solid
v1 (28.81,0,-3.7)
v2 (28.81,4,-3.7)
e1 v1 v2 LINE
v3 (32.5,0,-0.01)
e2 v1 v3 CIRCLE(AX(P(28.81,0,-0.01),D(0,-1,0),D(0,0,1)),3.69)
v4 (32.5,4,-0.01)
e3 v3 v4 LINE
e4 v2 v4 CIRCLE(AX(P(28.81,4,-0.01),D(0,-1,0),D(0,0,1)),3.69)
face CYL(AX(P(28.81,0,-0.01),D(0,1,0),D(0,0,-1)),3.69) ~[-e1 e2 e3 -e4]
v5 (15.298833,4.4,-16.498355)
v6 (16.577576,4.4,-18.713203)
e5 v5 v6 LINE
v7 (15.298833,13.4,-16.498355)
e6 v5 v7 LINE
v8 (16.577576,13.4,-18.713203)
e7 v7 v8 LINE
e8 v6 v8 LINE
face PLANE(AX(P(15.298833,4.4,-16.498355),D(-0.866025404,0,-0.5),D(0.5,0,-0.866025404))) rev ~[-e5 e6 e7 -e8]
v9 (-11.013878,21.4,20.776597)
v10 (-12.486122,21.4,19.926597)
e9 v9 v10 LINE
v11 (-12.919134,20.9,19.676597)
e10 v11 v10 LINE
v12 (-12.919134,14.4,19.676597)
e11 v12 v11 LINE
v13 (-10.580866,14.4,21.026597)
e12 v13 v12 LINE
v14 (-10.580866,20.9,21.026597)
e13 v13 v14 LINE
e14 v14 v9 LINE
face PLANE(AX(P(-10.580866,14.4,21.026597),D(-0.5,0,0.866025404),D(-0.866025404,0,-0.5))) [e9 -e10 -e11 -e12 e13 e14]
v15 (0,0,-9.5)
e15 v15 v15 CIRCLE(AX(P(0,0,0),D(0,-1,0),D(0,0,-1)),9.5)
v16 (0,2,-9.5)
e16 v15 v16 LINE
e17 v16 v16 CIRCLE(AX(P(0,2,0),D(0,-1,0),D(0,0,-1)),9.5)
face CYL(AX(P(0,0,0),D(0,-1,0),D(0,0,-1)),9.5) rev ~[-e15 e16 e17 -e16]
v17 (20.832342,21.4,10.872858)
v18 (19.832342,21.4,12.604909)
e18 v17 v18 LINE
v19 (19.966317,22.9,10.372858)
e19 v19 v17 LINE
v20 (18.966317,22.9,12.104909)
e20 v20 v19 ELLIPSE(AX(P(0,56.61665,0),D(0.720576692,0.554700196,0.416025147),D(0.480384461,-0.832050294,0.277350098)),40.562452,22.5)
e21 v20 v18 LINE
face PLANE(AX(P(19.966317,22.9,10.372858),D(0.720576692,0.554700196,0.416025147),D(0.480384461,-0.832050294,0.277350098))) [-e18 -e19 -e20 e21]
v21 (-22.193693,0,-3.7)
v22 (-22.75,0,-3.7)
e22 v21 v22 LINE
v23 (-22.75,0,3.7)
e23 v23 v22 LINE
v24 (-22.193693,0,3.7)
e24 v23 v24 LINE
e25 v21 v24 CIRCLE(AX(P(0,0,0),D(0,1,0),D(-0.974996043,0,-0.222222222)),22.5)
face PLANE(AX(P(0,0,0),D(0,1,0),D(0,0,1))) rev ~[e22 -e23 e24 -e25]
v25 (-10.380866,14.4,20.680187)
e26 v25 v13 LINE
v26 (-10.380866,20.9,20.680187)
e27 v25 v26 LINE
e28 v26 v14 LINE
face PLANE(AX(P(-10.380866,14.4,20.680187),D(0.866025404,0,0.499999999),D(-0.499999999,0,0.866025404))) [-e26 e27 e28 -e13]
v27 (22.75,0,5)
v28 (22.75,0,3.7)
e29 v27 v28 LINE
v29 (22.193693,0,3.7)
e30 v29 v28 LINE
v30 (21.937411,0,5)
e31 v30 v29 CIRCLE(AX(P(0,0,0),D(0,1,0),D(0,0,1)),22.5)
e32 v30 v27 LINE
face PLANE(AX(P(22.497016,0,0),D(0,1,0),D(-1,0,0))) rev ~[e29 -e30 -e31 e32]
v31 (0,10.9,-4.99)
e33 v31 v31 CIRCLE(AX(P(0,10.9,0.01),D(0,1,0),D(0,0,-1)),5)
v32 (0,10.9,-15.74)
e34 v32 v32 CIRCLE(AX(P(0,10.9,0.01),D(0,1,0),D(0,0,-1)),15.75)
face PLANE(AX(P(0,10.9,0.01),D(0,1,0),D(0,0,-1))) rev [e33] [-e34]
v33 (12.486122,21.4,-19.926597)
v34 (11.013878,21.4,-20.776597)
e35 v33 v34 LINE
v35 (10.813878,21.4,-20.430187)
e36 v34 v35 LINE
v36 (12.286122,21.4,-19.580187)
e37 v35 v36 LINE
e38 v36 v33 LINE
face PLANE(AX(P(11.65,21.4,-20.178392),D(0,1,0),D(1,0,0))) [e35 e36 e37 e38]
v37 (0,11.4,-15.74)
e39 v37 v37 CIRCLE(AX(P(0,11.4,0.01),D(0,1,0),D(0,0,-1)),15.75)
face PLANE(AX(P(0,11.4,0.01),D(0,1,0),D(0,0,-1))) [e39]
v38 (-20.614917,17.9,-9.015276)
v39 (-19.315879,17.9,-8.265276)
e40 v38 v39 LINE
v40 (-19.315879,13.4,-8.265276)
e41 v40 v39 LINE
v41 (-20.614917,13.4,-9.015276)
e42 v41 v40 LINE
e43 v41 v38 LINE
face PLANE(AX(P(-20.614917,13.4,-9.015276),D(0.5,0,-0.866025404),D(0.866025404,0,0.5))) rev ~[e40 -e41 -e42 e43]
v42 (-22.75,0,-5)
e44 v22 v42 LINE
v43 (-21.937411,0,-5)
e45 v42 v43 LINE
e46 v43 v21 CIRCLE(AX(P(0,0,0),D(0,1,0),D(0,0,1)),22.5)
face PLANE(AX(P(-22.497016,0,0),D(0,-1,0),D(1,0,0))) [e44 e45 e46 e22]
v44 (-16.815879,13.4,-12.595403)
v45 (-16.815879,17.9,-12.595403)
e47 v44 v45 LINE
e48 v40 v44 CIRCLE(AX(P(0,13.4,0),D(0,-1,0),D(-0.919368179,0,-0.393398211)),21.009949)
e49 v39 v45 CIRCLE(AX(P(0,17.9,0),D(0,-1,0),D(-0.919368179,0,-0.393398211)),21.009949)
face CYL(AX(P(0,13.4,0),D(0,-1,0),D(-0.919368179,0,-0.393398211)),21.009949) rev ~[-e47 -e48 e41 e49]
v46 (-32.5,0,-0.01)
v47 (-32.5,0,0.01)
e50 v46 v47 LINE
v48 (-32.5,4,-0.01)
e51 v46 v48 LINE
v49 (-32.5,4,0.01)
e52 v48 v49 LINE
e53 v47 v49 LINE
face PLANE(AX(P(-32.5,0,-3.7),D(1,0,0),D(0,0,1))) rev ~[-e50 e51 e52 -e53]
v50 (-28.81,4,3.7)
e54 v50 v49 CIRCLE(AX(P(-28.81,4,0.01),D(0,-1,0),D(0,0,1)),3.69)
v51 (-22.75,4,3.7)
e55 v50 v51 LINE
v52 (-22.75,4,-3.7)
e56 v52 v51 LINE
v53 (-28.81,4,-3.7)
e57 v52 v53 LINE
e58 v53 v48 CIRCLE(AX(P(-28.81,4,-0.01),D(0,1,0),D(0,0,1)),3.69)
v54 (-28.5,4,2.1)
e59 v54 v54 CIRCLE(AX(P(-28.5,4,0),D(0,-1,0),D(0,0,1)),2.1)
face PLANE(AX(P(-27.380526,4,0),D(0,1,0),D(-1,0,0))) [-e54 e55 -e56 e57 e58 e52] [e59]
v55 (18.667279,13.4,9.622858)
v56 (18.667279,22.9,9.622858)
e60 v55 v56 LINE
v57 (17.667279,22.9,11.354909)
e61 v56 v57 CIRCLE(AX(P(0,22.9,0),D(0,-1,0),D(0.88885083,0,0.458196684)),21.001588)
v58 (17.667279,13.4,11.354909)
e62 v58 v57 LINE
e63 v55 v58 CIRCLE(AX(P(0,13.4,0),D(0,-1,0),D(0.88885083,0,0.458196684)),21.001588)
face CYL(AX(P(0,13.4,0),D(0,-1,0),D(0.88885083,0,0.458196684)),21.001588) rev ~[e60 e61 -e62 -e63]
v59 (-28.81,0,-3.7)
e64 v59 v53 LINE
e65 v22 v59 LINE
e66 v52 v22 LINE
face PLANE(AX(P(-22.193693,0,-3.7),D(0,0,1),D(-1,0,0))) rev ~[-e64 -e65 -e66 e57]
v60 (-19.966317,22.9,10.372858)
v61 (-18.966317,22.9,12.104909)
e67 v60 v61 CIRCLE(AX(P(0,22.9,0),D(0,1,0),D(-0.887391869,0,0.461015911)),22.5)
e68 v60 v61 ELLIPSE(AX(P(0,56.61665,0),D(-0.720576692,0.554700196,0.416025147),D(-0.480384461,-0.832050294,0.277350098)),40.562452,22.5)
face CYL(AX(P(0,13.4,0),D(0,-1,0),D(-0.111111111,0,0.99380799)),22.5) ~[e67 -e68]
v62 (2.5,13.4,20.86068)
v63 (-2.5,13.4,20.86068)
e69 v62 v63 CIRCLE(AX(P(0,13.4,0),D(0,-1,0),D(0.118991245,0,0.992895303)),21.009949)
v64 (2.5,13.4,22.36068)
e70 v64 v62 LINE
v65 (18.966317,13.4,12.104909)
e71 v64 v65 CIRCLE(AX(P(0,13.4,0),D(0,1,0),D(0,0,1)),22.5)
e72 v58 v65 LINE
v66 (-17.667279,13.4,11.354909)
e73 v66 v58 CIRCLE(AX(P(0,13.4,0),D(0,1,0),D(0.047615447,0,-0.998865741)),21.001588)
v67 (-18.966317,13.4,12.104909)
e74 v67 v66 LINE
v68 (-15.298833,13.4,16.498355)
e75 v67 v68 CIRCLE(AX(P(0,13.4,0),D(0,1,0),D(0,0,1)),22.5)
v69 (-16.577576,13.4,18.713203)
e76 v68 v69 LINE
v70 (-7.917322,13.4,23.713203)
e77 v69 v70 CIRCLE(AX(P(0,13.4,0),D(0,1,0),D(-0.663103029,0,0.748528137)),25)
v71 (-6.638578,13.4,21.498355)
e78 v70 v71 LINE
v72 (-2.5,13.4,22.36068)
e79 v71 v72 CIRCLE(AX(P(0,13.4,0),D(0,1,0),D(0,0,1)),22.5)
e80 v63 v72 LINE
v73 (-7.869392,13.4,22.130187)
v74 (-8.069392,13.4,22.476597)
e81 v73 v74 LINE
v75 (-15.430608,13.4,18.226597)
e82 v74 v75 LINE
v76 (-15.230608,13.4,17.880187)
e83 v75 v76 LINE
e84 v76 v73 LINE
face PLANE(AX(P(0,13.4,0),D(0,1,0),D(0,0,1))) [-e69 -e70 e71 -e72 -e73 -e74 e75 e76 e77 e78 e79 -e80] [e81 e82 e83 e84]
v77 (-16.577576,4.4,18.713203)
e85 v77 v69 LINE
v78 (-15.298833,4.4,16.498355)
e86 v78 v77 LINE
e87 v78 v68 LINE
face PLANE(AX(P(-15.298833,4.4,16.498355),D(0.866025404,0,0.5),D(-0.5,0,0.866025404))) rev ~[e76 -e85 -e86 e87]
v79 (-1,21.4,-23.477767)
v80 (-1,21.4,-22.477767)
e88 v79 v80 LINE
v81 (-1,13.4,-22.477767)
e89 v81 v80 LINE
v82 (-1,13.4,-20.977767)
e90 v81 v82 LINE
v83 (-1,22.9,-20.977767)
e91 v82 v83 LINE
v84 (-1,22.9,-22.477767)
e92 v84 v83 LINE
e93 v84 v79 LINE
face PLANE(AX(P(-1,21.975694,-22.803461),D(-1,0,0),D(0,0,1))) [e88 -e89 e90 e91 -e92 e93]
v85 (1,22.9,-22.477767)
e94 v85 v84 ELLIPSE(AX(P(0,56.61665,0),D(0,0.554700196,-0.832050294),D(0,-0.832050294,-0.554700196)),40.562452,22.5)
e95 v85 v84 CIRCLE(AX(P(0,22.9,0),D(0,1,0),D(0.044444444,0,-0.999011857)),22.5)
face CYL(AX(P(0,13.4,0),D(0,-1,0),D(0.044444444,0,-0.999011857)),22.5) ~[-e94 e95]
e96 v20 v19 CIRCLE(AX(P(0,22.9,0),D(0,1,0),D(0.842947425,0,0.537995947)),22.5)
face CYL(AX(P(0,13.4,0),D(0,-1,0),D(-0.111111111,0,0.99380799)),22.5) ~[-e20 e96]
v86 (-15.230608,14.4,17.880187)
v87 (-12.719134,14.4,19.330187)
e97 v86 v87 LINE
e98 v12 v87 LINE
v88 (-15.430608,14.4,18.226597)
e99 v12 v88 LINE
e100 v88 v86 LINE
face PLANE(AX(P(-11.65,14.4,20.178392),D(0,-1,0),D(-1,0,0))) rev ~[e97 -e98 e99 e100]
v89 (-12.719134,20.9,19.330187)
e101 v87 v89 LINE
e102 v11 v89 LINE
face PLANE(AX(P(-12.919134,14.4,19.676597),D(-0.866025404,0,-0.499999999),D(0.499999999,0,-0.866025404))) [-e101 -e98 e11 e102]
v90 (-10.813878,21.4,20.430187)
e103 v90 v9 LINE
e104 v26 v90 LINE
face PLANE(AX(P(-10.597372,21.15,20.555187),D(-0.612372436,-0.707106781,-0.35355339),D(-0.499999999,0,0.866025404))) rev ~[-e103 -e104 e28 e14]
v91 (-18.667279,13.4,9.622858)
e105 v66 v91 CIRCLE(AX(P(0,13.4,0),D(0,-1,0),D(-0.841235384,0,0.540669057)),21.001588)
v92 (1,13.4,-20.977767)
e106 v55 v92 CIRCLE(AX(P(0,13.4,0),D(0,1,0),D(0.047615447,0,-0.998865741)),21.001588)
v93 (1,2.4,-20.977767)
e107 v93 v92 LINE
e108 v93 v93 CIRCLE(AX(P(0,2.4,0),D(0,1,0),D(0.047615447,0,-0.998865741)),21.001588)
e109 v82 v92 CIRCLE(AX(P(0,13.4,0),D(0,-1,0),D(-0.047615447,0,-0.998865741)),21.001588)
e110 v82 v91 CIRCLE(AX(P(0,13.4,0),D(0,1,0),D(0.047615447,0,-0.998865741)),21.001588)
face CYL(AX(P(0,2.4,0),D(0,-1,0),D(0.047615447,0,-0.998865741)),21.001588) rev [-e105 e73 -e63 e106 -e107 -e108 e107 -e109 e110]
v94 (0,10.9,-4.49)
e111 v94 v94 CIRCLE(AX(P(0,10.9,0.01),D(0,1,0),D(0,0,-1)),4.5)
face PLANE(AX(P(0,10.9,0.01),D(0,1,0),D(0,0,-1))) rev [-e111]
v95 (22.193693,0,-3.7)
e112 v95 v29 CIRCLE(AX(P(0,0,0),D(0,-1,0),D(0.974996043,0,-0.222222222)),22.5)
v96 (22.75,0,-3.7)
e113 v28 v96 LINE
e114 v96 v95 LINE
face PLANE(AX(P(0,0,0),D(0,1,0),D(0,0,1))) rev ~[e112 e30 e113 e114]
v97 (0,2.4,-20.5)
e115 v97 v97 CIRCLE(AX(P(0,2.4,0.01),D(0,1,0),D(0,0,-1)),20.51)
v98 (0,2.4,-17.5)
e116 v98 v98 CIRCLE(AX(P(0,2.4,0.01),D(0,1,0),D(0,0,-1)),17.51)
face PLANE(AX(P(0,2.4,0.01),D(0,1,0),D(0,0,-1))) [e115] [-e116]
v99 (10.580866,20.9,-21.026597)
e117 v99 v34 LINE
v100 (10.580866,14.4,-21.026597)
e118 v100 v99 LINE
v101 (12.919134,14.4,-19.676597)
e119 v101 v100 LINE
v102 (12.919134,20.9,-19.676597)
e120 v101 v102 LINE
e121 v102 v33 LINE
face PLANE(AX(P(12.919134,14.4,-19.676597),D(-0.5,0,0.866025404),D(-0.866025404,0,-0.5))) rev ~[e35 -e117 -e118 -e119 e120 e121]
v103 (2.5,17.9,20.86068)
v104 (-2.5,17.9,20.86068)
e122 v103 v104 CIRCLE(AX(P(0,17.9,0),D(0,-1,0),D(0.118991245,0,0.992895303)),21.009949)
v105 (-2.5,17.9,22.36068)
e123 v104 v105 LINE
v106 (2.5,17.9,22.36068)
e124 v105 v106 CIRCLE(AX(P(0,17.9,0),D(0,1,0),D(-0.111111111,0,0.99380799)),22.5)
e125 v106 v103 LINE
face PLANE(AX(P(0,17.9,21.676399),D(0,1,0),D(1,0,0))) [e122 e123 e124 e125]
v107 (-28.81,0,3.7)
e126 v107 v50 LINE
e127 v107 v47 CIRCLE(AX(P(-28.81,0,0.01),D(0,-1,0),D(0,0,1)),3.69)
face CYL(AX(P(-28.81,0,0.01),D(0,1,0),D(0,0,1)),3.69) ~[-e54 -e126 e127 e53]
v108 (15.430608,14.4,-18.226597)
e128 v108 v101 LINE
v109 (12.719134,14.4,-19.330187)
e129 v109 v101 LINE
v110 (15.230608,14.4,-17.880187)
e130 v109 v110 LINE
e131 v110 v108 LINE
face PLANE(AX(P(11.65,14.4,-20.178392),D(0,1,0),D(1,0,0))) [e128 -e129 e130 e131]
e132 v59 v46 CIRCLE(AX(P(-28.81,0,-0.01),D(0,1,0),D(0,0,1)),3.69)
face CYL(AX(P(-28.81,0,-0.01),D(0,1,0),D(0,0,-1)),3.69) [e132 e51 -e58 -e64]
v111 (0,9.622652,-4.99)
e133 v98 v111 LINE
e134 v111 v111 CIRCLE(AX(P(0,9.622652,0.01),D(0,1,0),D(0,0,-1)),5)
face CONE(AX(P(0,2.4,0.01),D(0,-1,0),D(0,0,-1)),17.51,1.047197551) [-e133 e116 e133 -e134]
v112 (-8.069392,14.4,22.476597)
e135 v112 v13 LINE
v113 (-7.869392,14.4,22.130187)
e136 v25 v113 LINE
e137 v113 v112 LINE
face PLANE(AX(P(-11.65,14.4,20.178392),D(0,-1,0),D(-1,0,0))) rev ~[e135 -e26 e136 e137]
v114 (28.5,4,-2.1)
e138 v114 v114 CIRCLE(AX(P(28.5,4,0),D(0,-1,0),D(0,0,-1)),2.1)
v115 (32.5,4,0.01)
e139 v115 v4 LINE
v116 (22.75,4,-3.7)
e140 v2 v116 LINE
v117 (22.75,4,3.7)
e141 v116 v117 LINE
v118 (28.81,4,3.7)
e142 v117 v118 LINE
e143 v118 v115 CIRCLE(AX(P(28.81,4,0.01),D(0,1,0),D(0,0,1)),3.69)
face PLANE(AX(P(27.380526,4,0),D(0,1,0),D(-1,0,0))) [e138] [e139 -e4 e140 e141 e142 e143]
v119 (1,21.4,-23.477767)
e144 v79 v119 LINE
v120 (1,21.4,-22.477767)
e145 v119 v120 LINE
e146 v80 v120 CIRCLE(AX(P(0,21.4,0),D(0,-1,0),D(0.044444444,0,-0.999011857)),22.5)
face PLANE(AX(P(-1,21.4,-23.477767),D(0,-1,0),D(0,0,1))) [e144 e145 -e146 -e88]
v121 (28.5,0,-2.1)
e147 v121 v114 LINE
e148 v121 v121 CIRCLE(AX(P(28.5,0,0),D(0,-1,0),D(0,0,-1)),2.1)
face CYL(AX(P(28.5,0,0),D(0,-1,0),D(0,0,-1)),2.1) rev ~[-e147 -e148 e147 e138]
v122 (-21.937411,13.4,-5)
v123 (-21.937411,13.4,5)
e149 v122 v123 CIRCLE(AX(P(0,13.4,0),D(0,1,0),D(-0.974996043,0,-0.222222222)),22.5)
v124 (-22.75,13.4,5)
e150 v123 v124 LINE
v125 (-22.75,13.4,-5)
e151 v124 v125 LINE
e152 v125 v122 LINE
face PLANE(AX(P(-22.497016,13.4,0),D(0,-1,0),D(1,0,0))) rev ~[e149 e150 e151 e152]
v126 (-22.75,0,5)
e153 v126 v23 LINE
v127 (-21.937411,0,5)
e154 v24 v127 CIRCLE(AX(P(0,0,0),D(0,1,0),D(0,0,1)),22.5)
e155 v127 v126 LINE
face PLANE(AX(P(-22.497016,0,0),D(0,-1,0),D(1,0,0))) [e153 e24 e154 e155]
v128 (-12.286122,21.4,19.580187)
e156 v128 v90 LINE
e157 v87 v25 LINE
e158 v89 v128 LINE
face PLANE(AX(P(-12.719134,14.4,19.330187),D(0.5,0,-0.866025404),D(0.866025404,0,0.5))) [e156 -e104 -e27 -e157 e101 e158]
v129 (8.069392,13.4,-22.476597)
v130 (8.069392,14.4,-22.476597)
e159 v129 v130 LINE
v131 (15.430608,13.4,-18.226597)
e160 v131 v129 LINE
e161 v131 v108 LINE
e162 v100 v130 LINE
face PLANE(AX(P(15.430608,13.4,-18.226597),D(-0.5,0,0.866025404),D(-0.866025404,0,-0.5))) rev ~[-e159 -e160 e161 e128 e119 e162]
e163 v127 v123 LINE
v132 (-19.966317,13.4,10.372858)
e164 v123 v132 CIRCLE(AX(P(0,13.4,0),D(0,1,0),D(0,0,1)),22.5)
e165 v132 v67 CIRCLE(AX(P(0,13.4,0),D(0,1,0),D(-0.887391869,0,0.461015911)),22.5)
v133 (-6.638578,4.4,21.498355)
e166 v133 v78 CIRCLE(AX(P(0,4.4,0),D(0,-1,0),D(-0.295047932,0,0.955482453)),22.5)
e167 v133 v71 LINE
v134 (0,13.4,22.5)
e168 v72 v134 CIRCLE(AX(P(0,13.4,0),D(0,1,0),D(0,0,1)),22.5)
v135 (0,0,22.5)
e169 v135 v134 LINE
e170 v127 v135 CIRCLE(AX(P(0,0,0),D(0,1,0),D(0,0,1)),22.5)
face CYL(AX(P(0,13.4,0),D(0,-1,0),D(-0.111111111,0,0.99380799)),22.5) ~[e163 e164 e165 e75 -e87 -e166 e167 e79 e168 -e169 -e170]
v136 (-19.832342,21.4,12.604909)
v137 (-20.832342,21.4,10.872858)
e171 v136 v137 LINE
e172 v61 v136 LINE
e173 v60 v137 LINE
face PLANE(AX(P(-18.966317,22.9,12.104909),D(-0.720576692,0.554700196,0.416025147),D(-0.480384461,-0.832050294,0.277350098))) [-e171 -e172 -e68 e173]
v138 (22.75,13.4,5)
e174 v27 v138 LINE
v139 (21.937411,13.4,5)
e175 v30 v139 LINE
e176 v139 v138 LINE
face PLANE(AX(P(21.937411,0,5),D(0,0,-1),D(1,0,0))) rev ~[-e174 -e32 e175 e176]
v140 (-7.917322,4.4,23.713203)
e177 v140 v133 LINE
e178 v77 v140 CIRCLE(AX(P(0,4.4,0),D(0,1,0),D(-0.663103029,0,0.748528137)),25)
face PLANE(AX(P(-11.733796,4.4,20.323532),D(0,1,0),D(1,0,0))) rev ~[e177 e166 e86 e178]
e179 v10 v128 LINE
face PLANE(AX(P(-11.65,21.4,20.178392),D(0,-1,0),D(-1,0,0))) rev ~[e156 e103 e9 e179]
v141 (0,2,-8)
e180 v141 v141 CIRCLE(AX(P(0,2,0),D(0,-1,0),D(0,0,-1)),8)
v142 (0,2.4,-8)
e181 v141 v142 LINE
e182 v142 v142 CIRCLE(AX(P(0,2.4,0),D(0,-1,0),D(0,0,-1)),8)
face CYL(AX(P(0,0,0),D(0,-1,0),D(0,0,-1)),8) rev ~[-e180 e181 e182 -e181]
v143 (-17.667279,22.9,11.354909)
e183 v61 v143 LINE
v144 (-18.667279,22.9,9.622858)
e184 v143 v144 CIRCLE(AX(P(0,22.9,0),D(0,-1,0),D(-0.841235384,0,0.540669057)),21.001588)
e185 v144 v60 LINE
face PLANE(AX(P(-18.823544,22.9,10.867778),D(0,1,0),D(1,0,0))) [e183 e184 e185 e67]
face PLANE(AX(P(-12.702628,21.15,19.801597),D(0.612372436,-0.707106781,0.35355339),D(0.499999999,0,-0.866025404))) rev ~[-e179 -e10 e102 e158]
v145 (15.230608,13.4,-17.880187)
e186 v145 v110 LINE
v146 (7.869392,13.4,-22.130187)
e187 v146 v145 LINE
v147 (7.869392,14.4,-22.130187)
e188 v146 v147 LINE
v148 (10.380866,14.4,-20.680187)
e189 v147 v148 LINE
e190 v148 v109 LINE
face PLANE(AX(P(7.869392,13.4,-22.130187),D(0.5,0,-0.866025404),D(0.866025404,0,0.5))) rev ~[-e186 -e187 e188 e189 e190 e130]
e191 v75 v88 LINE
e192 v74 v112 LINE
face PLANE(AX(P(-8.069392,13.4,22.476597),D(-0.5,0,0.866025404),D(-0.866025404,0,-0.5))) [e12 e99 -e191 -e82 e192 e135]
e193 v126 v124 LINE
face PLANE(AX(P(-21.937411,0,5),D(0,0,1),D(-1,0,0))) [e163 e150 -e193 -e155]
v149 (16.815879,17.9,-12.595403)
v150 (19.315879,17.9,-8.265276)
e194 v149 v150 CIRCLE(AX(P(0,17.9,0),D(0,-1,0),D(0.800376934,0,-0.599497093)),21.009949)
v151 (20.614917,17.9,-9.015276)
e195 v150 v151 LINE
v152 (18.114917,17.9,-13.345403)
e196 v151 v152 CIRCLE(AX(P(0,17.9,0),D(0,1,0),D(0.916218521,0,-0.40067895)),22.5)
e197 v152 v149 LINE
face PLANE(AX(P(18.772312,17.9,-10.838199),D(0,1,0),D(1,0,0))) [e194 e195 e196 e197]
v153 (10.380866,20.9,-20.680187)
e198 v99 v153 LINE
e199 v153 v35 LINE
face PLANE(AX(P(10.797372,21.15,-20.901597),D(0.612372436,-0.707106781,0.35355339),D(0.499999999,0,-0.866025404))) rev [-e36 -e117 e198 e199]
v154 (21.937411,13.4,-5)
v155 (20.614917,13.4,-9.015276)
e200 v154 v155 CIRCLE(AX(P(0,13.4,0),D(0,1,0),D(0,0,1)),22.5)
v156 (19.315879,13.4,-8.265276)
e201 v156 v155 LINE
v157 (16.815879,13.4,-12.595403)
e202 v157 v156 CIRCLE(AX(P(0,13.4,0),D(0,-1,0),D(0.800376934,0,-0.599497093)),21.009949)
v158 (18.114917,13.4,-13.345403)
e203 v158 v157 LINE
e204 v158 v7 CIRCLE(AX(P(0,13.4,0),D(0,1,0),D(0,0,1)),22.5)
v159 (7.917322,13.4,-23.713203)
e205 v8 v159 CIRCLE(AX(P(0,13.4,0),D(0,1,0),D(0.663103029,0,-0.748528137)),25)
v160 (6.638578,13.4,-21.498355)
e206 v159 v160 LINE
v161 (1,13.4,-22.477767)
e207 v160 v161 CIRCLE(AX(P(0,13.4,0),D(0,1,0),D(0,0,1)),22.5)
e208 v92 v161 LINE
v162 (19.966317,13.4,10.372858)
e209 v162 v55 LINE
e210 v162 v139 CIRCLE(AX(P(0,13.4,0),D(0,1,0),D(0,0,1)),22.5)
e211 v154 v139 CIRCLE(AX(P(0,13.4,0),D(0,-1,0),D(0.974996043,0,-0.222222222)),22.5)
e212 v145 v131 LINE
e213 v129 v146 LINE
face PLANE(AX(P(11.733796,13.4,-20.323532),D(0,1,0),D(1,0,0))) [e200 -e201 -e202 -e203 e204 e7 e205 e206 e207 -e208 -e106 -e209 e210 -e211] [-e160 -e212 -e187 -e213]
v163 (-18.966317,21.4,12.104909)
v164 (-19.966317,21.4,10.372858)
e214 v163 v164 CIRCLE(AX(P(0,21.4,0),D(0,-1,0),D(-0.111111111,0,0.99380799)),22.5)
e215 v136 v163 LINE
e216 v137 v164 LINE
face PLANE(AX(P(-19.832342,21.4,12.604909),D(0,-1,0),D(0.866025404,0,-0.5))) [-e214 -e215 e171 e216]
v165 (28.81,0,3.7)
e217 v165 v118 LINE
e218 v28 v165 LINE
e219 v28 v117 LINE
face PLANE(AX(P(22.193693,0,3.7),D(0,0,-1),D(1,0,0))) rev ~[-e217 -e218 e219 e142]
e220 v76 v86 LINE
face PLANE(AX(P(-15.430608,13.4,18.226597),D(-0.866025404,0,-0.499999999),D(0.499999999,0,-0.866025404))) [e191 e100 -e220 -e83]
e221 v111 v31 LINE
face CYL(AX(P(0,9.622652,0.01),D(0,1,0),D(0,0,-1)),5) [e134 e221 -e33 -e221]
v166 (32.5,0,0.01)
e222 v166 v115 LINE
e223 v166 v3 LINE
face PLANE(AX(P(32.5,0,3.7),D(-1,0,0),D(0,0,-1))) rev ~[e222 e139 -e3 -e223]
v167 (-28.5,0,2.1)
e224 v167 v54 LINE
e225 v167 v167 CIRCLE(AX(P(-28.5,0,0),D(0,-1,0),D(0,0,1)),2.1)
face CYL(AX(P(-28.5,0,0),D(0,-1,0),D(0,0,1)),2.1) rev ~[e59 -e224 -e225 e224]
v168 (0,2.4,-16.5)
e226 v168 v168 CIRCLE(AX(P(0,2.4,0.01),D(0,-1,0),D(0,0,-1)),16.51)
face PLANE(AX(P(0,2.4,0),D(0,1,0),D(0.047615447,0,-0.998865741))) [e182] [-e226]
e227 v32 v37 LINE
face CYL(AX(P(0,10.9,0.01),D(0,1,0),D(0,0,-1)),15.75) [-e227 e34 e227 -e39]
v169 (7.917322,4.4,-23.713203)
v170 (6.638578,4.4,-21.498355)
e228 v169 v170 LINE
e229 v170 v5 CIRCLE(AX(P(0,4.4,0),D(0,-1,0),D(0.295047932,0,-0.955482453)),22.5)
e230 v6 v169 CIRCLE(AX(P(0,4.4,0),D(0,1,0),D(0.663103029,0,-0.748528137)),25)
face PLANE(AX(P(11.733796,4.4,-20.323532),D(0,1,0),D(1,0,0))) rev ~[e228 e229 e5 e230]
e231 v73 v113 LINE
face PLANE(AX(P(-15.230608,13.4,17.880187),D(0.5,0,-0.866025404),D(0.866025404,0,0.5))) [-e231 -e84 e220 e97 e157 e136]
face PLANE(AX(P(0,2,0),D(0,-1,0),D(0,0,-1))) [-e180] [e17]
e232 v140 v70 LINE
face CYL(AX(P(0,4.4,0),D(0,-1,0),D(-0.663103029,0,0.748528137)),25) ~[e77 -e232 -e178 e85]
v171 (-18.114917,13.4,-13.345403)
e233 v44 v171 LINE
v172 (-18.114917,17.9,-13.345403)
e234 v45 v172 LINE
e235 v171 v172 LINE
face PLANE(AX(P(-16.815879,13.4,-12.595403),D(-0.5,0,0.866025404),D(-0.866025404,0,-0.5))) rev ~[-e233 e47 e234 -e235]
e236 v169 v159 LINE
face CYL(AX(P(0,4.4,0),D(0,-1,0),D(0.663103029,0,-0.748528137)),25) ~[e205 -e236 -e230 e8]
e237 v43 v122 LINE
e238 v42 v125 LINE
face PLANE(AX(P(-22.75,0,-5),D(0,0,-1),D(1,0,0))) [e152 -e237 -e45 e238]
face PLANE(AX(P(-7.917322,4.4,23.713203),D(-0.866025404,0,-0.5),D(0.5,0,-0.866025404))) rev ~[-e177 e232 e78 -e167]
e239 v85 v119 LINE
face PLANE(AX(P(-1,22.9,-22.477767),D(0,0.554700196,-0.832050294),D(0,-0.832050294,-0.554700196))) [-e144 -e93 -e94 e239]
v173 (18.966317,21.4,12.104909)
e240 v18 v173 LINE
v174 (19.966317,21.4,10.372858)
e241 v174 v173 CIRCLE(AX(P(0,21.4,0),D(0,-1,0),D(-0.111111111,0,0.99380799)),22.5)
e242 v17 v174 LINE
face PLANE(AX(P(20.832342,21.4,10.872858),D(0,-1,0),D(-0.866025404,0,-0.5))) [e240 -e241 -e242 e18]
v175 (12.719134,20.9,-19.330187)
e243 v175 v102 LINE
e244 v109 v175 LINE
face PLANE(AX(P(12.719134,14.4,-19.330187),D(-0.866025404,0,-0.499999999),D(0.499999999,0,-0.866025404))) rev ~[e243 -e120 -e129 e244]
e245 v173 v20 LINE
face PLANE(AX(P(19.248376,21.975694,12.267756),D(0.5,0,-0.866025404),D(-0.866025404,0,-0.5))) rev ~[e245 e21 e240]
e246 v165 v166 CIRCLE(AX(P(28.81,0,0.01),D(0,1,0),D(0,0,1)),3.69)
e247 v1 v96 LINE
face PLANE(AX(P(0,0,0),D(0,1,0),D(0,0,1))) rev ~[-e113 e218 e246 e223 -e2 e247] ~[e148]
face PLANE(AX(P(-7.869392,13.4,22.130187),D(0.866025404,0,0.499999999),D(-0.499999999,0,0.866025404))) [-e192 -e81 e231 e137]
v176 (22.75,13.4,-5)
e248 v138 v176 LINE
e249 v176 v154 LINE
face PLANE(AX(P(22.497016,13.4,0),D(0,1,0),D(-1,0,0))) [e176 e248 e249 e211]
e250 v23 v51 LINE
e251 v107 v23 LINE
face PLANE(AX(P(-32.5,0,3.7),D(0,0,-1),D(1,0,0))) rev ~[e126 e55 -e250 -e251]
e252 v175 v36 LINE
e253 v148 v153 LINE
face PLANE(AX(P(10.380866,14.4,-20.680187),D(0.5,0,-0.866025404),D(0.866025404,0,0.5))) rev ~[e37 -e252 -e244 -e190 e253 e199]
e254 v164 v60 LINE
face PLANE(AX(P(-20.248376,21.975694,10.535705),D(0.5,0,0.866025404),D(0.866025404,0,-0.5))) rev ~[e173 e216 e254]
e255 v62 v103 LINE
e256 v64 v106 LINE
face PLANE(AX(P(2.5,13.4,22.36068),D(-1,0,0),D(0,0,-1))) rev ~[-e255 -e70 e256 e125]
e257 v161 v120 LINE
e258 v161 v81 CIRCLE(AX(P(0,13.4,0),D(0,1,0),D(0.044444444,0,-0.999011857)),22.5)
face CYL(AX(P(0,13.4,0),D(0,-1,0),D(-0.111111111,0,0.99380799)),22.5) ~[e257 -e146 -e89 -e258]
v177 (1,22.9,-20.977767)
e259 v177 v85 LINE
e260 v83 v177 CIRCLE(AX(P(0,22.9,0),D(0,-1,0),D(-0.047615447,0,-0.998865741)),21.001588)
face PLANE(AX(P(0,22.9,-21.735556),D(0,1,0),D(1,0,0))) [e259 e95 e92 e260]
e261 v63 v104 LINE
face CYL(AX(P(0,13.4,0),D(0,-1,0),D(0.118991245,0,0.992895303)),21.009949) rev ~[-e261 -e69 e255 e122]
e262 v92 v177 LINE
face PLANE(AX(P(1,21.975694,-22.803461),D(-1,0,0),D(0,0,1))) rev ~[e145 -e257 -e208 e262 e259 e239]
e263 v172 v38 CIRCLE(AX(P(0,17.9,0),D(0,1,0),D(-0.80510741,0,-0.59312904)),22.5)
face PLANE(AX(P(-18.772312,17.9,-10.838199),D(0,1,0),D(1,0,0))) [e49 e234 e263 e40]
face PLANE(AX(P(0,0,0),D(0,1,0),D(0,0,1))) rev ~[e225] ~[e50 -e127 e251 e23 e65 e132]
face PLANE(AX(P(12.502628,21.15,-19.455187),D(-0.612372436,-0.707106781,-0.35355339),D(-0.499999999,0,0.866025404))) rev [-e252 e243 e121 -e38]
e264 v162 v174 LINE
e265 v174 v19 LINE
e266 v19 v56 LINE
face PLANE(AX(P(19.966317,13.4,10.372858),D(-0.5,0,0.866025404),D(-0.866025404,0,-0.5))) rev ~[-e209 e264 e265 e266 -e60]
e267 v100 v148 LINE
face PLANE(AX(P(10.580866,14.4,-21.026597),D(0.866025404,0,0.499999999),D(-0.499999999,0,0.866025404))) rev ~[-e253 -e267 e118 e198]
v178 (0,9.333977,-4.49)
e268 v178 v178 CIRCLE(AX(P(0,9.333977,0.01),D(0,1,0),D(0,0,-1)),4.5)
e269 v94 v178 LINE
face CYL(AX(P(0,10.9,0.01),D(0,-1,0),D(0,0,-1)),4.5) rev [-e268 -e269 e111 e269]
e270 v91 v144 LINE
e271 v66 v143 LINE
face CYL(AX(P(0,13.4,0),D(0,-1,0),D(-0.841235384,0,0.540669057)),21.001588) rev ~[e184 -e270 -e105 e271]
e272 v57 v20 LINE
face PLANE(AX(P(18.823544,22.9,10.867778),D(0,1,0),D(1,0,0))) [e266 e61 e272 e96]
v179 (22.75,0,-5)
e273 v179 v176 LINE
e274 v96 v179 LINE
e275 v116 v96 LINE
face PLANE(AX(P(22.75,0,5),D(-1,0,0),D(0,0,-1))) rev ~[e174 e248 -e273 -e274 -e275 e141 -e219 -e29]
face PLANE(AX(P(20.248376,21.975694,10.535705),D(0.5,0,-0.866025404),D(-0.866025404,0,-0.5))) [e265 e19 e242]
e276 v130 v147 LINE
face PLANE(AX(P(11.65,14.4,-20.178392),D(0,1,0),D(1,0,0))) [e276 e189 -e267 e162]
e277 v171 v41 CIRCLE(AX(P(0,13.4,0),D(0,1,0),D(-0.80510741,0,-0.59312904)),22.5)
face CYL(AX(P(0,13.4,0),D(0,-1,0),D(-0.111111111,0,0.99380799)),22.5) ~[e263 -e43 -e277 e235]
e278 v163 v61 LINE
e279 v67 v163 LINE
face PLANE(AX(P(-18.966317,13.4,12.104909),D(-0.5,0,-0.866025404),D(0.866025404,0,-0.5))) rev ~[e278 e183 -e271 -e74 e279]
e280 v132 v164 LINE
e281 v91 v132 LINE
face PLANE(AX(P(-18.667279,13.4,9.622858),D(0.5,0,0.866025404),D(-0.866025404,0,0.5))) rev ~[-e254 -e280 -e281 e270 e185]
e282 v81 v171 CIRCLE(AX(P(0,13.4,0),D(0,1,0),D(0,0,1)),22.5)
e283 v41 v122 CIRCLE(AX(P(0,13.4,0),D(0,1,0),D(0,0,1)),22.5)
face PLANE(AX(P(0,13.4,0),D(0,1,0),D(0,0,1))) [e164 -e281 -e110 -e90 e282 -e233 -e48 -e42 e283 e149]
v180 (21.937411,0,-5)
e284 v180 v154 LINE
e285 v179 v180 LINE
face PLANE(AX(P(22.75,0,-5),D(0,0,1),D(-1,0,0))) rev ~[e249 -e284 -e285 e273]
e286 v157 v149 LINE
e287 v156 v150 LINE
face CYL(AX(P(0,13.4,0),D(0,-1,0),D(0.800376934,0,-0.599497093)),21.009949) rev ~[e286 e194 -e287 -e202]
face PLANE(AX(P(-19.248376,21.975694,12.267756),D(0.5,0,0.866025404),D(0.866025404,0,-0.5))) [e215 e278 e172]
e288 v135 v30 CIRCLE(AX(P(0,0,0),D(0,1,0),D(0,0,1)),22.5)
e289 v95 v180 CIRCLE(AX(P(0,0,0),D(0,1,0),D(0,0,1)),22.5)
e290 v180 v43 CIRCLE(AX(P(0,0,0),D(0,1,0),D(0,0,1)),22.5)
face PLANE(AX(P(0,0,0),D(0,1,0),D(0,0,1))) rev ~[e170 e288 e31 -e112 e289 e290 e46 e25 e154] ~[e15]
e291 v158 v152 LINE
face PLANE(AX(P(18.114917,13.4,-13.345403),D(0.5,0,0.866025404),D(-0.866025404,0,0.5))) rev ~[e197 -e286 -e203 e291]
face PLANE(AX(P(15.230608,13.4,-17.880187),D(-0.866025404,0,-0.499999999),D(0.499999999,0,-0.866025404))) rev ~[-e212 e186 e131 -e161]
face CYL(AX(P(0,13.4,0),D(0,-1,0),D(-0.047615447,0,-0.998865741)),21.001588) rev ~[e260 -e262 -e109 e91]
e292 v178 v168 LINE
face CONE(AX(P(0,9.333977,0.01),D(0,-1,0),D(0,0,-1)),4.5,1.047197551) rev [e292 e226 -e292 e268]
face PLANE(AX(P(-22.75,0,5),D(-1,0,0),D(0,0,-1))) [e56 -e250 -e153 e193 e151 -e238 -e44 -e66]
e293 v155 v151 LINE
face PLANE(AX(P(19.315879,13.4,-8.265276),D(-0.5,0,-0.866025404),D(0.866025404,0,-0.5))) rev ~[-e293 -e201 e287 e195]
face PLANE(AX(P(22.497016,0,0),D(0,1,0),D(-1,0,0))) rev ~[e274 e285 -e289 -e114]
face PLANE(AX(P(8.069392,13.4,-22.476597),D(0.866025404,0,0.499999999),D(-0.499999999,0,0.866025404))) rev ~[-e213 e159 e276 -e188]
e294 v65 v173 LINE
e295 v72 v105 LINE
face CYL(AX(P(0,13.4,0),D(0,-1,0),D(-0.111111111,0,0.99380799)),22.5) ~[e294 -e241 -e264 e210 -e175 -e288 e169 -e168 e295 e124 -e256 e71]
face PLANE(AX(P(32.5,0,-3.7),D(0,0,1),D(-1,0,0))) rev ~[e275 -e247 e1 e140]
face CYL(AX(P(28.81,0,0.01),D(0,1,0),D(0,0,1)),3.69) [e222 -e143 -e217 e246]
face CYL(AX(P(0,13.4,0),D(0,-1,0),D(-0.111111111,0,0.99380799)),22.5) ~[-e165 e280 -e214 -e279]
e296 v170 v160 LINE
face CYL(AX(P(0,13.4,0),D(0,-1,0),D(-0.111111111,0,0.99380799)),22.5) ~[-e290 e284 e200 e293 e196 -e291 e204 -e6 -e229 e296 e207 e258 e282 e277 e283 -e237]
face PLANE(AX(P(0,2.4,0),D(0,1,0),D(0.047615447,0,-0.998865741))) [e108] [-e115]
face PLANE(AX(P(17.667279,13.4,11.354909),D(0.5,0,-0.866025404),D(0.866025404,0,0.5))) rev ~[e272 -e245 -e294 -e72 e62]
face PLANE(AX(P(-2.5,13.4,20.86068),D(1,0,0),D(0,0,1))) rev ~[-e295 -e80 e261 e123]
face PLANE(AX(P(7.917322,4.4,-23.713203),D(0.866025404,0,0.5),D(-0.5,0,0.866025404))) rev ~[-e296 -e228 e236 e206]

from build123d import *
from build123d.topology import SkipClean

# Parameters (mm, degrees)
SKETCH_1_R               = 22.5
EXTRUDE_1_DEPTH          = 13.4
SKETCH_2_R               = 2.1
EXTRUDE_2_DEPTH          = 4
FILLET_1_R               = 3.69
EXTRUDE_3_DEPTH          = 9.5
EXTRUDE_5_DEPTH          = 2
EXTRUDE_4_DEPTH          = 4.5
CUT_EXTRUDE_START        = -11
SKETCH_5_R               = 21.001588026
CUT_EXTRUDE_1_DEPTH      = 11
SKETCH_6_R               = 8
CUT_EXTRUDE_2_DEPTH      = 3
PATTERN_CIRCULAR_1_COUNT = 3
EXTRUDE_START            = -9
EXTRUDE_6_DEPTH          = 9
EXTRUDE_7_DEPTH          = 1
EXTRUDE_8_DEPTH          = 7
CHAMFER_1_SIZE           = 0.5
SKETCH_13_R              = 9.5
CUT_EXTRUDE_4_DEPTH      = 2
EXTRUDE_10_DEPTH         = 13.4


with BuildPart() as part:
    # Эскиз1 → Бобышка-Вытянуть1 (new body)
    with BuildSketch(Plane(origin=(0, 0, 0), x_dir=(1, 0, 0), z_dir=(0, 1, 0))):
        with Locations(Location((0, 0, 0), (0, 0, 270))):
            Circle(SKETCH_1_R)
    extrude(amount=EXTRUDE_1_DEPTH)

    # Эскиз2 → Бобышка-Вытянуть2 (add)
    # profile 1 of 2: a face of its own
    with BuildSketch(Plane.XZ):
        with BuildLine():
            Line((22.193692798, 3.7), (32.5, 3.7))
            Line((32.5, 3.7), (32.5, -3.7))
            Line((32.5, -3.7), (22.193692798, -3.7))
            ThreePointArc((22.193692798, -3.7), (22.5, 0), (22.193692798, 3.7))
        make_face()
        with Locations(Location((28.5, 0, 0), (0, 0, 270))):
            Circle(SKETCH_2_R, mode=Mode.SUBTRACT)
    # profile 2 of 2: a face of its own
    with BuildSketch(Plane.XZ):
        with BuildLine():
            Line((-22.193692798, -3.7), (-32.5, -3.7))
            Line((-32.5, -3.7), (-32.5, 3.7))
            Line((-32.5, 3.7), (-22.193692798, 3.7))
            ThreePointArc((-22.193692798, 3.7), (-22.5, 0), (-22.193692798, -3.7))
        make_face()
        with Locations(Location((-28.5, 0, 0), (0, 0, 90))):
            Circle(SKETCH_2_R, mode=Mode.SUBTRACT)
    extrude(amount=-EXTRUDE_2_DEPTH)

    # Скругление1
    fillet_1_edges = [part.edges().sort_by_distance(p)[0] for p in [
        (-32.5, 2, -3.7),
        (-32.5, 2, 3.7),
        (32.5, 2, 3.7),
        (32.5, 2, -3.7),
    ]]
    fillet(fillet_1_edges, radius=FILLET_1_R)

    # Эскиз3 → Бобышка-Вытянуть3 (add)
    with BuildSketch(Plane(origin=(0, 13.4, 0), x_dir=(1, 0, 0), z_dir=(0, 1, 0))):
        with BuildLine():
            Line((-1, 22.477766793), (-1, 20.977766793))
            ThreePointArc((-1, 20.977766793), (0, 21.001588026), (1, 20.977766793))
            Line((1, 20.977766793), (1, 22.477766793))
            ThreePointArc((1, 22.477766793), (0, 22.5), (-1, 22.477766793))
        make_face()
        with BuildLine():
            Line((19.966317063, -10.372857993), (18.667278957, -9.622857993))
            ThreePointArc((18.667278957, -9.622857993), (18.18790875, -10.500794013), (17.667278957, -11.3549088))
            Line((17.667278957, -11.3549088), (18.966317063, -12.1049088))
            ThreePointArc((18.966317063, -12.1049088), (19.485571585, -11.25), (19.966317063, -10.372857993))
        make_face()
        with BuildLine():
            Line((-18.966317063, -12.1049088), (-17.667278957, -11.3549088))
            ThreePointArc((-17.667278957, -11.3549088), (-18.18790875, -10.500794013), (-18.667278957, -9.622857993))
            Line((-18.667278957, -9.622857993), (-19.966317063, -10.372857993))
            ThreePointArc((-19.966317063, -10.372857993), (-19.485571585, -11.25), (-18.966317063, -12.1049088))
        make_face()
    extrude(amount=EXTRUDE_3_DEPTH)

    # Эскиз7 → Бобышка-Вытянуть5 (add)
    with BuildSketch(Plane.ZY.offset(1)):
        Polygon((-22.477766793, 22.9), (-23.477766793, 21.4), (-22.477766793, 21.4), align=None)
    extrude_5 = extrude(amount=-EXTRUDE_5_DEPTH)

    # Эскиз4 → Бобышка-Вытянуть4 (add)
    with BuildSketch(Plane(origin=(0, 13.4, 0), x_dir=(1, 0, 0), z_dir=(0, 1, 0))):
        with BuildLine():
            Line((-2.5, -20.860679775), (-2.5, -22.360679775))
            ThreePointArc((-2.5, -22.360679775), (0, -22.5), (2.5, -22.360679775))
            Line((2.5, -22.360679775), (2.5, -20.860679775))
            ThreePointArc((2.5, -20.860679775), (0, -21.009949088), (-2.5, -20.860679775))
        make_face()
        with BuildLine():
            Line((-16.815878625, 12.595403397), (-18.114916731, 13.345403397))
            ThreePointArc((-18.114916731, 13.345403397), (-19.485571585, 11.25), (-20.614916731, 9.015276378))
            Line((-20.614916731, 9.015276378), (-19.315878625, 8.265276378))
            ThreePointArc((-19.315878625, 8.265276378), (-18.195149642, 10.504974544), (-16.815878625, 12.595403397))
        make_face()
        with BuildLine():
            Line((19.315878625, 8.265276378), (20.614916731, 9.015276378))
            ThreePointArc((20.614916731, 9.015276378), (19.485571585, 11.25), (18.114916731, 13.345403397))
            Line((18.114916731, 13.345403397), (16.815878625, 12.595403397))
            ThreePointArc((16.815878625, 12.595403397), (18.195149642, 10.504974544), (19.315878625, 8.265276378))
        make_face()
    extrude(amount=EXTRUDE_4_DEPTH)

    # Эскиз5 → Вырез-Вытянуть1 (cut)
    with SkipClean():  # the faces are left unmerged after this step: merging them gives an invalid solid
        with BuildSketch(Plane(origin=(0, 13.4, 0), x_dir=(1, 0, 0), z_dir=(0, 1, 0)).offset(CUT_EXTRUDE_START)):
            with Locations(Location((0, 0, 0), (0, 0, 87.270803902))):
                Circle(SKETCH_5_R)
        extrude(amount=CUT_EXTRUDE_1_DEPTH, mode=Mode.SUBTRACT)

    # Эскиз6 → Вырез-Вытянуть2 (cut)
    with SkipClean():  # the faces are left unmerged after this step: merging them gives an invalid solid
        with BuildSketch(Plane(origin=(0, 0, 0), x_dir=(-1, 0, 0), z_dir=(0, -1, 0))):
            with Locations(Location((0, 0, 0), (0, 0, 90))):
                Circle(SKETCH_6_R)
        extrude(amount=-CUT_EXTRUDE_2_DEPTH, mode=Mode.SUBTRACT)

    # Круговой массив1: Бобышка-Вытянуть5 ×3 about axis
    with SkipClean():  # the faces are left unmerged after this step: merging them gives an invalid solid
        pattern_circular_1_axis = Axis((0, 0, 0), (0, 1, 0))
        for i in range(1, PATTERN_CIRCULAR_1_COUNT):
            add(extrude_5.rotate(pattern_circular_1_axis, i * 360 / PATTERN_CIRCULAR_1_COUNT))

    # Эскиз8 → Бобышка-Вытянуть6 (add)
    with SkipClean():  # the faces are left unmerged after this step: merging them gives an invalid solid
        with BuildSketch(Plane(origin=(0, 13.4, 0), x_dir=(1, 0, 0), z_dir=(0, 1, 0)).offset(EXTRUDE_START)):
            with BuildLine():
                Line((7.917321695, 23.713203436), (6.638578465, 21.498355192))
                ThreePointArc((6.638578465, 21.498355192), (11.25, 19.485571585), (15.298832503, 16.498355192))
                Line((15.298832503, 16.498355192), (16.577575733, 18.713203436))
                ThreePointArc((16.577575733, 18.713203436), (12.5, 21.650635095), (7.917321695, 23.713203436))
            make_face()
            with BuildLine():
                Line((-7.917321695, -23.713203436), (-6.638578465, -21.498355192))
                ThreePointArc((-6.638578465, -21.498355192), (-11.25, -19.485571585), (-15.298832503, -16.498355192))
                Line((-15.298832503, -16.498355192), (-16.577575733, -18.713203436))
                ThreePointArc((-16.577575733, -18.713203436), (-12.5, -21.650635095), (-7.917321695, -23.713203436))
            make_face()
        extrude(amount=EXTRUDE_6_DEPTH)

    # Эскиз9 → Бобышка-Вытянуть7 (add)
    with SkipClean():  # the faces are left unmerged after this step: merging them gives an invalid solid
        with BuildSketch(Plane(origin=(0, 13.4, 0), x_dir=(1, 0, 0), z_dir=(0, 1, 0))):
            Polygon((8.069392034, 22.476596989), (7.869392034, 22.130186827), (15.230607966, 17.880186827), (15.430607966, 18.226596989), align=None)
            Polygon((-8.069392034, -22.476596989), (-15.430607966, -18.226596989), (-15.230607966, -17.880186827), (-7.869392034, -22.130186827), align=None)
        extrude(amount=EXTRUDE_7_DEPTH)

    # Эскиз10 → Бобышка-Вытянуть8 (add)
    with SkipClean():  # the faces are left unmerged after this step: merging them gives an invalid solid
        with BuildSketch(Plane(origin=(0, 14.4, 0), x_dir=(1, 0, 0), z_dir=(0, 1, 0))):
            Polygon((10.580865705, 21.026596989), (10.380865705, 20.680186827), (12.719134295, 19.330186827), (12.919134295, 19.676596989), align=None)
            Polygon((-10.580865705, -21.026596989), (-12.919134295, -19.676596989), (-12.719134295, -19.330186827), (-10.380865705, -20.680186827), align=None)
        extrude(amount=EXTRUDE_8_DEPTH)

    # Фаска1
    chamfer_1_edges = [part.edges().sort_by_distance(p)[0] for p in [
        (10.480865705, 21.4, -20.853391908),
        (12.819134295, 21.4, -19.503391908),
        (-10.480865705, 21.4, 20.853391908),
        (-12.819134295, 21.4, 19.503391908),
    ]]
    chamfer(chamfer_1_edges, length=CHAMFER_1_SIZE)

    # Эскиз11 → Повернуть1 (revolve)
    with SkipClean():  # the faces are left unmerged after this step: merging them gives an invalid solid
        with BuildSketch(Plane(origin=(0, 0, 0), x_dir=(0, 0, -1), z_dir=(1, 0, 0))):
            Polygon((20.5, 2.4), (17.5, 2.4), (4.99, 9.622651868), (4.99, 10.9), (15.74, 10.9), (15.74, 11.4), (-0.01, 11.4), (-0.01, 10.9), (4.49, 10.9), (4.49, 9.333976733), (17.366025404, 1.9), (20.5, 1.9), align=None)
        revolve(axis=Axis((0, 0, 0.01), (0, 1, 0)))

    # Эскиз13 → Вырез-Вытянуть4 (cut)
    with SkipClean():  # the faces are left unmerged after this step: merging them gives an invalid solid
        with BuildSketch(Plane.XZ):
            with Locations(Location((0, 0, 0), (0, 0, 270))):
                Circle(SKETCH_13_R)
        extrude(amount=-CUT_EXTRUDE_4_DEPTH, mode=Mode.SUBTRACT)

    # Эскиз15 → Бобышка-Вытянуть10 (add)
    with SkipClean():  # the faces are left unmerged after this step: merging them gives an invalid solid
        with BuildSketch(Plane.XZ):
            with BuildLine():
                Line((-21.937410968, 5), (-22.75, 5))
                Line((-22.75, 5), (-22.75, -5))
                Line((-22.75, -5), (-21.937410968, -5))
                ThreePointArc((-21.937410968, -5), (-22.5, 0), (-21.937410968, 5))
            make_face()
            with BuildLine():
                Line((22.75, 5), (22.75, -5))
                Line((22.75, -5), (21.937410968, -5))
                ThreePointArc((21.937410968, -5), (22.5, 0), (21.937410968, 5))
                Line((21.937410968, 5), (22.75, 5))
            make_face()
        extrude(amount=-EXTRUDE_10_DEPTH)


solid = part.part
